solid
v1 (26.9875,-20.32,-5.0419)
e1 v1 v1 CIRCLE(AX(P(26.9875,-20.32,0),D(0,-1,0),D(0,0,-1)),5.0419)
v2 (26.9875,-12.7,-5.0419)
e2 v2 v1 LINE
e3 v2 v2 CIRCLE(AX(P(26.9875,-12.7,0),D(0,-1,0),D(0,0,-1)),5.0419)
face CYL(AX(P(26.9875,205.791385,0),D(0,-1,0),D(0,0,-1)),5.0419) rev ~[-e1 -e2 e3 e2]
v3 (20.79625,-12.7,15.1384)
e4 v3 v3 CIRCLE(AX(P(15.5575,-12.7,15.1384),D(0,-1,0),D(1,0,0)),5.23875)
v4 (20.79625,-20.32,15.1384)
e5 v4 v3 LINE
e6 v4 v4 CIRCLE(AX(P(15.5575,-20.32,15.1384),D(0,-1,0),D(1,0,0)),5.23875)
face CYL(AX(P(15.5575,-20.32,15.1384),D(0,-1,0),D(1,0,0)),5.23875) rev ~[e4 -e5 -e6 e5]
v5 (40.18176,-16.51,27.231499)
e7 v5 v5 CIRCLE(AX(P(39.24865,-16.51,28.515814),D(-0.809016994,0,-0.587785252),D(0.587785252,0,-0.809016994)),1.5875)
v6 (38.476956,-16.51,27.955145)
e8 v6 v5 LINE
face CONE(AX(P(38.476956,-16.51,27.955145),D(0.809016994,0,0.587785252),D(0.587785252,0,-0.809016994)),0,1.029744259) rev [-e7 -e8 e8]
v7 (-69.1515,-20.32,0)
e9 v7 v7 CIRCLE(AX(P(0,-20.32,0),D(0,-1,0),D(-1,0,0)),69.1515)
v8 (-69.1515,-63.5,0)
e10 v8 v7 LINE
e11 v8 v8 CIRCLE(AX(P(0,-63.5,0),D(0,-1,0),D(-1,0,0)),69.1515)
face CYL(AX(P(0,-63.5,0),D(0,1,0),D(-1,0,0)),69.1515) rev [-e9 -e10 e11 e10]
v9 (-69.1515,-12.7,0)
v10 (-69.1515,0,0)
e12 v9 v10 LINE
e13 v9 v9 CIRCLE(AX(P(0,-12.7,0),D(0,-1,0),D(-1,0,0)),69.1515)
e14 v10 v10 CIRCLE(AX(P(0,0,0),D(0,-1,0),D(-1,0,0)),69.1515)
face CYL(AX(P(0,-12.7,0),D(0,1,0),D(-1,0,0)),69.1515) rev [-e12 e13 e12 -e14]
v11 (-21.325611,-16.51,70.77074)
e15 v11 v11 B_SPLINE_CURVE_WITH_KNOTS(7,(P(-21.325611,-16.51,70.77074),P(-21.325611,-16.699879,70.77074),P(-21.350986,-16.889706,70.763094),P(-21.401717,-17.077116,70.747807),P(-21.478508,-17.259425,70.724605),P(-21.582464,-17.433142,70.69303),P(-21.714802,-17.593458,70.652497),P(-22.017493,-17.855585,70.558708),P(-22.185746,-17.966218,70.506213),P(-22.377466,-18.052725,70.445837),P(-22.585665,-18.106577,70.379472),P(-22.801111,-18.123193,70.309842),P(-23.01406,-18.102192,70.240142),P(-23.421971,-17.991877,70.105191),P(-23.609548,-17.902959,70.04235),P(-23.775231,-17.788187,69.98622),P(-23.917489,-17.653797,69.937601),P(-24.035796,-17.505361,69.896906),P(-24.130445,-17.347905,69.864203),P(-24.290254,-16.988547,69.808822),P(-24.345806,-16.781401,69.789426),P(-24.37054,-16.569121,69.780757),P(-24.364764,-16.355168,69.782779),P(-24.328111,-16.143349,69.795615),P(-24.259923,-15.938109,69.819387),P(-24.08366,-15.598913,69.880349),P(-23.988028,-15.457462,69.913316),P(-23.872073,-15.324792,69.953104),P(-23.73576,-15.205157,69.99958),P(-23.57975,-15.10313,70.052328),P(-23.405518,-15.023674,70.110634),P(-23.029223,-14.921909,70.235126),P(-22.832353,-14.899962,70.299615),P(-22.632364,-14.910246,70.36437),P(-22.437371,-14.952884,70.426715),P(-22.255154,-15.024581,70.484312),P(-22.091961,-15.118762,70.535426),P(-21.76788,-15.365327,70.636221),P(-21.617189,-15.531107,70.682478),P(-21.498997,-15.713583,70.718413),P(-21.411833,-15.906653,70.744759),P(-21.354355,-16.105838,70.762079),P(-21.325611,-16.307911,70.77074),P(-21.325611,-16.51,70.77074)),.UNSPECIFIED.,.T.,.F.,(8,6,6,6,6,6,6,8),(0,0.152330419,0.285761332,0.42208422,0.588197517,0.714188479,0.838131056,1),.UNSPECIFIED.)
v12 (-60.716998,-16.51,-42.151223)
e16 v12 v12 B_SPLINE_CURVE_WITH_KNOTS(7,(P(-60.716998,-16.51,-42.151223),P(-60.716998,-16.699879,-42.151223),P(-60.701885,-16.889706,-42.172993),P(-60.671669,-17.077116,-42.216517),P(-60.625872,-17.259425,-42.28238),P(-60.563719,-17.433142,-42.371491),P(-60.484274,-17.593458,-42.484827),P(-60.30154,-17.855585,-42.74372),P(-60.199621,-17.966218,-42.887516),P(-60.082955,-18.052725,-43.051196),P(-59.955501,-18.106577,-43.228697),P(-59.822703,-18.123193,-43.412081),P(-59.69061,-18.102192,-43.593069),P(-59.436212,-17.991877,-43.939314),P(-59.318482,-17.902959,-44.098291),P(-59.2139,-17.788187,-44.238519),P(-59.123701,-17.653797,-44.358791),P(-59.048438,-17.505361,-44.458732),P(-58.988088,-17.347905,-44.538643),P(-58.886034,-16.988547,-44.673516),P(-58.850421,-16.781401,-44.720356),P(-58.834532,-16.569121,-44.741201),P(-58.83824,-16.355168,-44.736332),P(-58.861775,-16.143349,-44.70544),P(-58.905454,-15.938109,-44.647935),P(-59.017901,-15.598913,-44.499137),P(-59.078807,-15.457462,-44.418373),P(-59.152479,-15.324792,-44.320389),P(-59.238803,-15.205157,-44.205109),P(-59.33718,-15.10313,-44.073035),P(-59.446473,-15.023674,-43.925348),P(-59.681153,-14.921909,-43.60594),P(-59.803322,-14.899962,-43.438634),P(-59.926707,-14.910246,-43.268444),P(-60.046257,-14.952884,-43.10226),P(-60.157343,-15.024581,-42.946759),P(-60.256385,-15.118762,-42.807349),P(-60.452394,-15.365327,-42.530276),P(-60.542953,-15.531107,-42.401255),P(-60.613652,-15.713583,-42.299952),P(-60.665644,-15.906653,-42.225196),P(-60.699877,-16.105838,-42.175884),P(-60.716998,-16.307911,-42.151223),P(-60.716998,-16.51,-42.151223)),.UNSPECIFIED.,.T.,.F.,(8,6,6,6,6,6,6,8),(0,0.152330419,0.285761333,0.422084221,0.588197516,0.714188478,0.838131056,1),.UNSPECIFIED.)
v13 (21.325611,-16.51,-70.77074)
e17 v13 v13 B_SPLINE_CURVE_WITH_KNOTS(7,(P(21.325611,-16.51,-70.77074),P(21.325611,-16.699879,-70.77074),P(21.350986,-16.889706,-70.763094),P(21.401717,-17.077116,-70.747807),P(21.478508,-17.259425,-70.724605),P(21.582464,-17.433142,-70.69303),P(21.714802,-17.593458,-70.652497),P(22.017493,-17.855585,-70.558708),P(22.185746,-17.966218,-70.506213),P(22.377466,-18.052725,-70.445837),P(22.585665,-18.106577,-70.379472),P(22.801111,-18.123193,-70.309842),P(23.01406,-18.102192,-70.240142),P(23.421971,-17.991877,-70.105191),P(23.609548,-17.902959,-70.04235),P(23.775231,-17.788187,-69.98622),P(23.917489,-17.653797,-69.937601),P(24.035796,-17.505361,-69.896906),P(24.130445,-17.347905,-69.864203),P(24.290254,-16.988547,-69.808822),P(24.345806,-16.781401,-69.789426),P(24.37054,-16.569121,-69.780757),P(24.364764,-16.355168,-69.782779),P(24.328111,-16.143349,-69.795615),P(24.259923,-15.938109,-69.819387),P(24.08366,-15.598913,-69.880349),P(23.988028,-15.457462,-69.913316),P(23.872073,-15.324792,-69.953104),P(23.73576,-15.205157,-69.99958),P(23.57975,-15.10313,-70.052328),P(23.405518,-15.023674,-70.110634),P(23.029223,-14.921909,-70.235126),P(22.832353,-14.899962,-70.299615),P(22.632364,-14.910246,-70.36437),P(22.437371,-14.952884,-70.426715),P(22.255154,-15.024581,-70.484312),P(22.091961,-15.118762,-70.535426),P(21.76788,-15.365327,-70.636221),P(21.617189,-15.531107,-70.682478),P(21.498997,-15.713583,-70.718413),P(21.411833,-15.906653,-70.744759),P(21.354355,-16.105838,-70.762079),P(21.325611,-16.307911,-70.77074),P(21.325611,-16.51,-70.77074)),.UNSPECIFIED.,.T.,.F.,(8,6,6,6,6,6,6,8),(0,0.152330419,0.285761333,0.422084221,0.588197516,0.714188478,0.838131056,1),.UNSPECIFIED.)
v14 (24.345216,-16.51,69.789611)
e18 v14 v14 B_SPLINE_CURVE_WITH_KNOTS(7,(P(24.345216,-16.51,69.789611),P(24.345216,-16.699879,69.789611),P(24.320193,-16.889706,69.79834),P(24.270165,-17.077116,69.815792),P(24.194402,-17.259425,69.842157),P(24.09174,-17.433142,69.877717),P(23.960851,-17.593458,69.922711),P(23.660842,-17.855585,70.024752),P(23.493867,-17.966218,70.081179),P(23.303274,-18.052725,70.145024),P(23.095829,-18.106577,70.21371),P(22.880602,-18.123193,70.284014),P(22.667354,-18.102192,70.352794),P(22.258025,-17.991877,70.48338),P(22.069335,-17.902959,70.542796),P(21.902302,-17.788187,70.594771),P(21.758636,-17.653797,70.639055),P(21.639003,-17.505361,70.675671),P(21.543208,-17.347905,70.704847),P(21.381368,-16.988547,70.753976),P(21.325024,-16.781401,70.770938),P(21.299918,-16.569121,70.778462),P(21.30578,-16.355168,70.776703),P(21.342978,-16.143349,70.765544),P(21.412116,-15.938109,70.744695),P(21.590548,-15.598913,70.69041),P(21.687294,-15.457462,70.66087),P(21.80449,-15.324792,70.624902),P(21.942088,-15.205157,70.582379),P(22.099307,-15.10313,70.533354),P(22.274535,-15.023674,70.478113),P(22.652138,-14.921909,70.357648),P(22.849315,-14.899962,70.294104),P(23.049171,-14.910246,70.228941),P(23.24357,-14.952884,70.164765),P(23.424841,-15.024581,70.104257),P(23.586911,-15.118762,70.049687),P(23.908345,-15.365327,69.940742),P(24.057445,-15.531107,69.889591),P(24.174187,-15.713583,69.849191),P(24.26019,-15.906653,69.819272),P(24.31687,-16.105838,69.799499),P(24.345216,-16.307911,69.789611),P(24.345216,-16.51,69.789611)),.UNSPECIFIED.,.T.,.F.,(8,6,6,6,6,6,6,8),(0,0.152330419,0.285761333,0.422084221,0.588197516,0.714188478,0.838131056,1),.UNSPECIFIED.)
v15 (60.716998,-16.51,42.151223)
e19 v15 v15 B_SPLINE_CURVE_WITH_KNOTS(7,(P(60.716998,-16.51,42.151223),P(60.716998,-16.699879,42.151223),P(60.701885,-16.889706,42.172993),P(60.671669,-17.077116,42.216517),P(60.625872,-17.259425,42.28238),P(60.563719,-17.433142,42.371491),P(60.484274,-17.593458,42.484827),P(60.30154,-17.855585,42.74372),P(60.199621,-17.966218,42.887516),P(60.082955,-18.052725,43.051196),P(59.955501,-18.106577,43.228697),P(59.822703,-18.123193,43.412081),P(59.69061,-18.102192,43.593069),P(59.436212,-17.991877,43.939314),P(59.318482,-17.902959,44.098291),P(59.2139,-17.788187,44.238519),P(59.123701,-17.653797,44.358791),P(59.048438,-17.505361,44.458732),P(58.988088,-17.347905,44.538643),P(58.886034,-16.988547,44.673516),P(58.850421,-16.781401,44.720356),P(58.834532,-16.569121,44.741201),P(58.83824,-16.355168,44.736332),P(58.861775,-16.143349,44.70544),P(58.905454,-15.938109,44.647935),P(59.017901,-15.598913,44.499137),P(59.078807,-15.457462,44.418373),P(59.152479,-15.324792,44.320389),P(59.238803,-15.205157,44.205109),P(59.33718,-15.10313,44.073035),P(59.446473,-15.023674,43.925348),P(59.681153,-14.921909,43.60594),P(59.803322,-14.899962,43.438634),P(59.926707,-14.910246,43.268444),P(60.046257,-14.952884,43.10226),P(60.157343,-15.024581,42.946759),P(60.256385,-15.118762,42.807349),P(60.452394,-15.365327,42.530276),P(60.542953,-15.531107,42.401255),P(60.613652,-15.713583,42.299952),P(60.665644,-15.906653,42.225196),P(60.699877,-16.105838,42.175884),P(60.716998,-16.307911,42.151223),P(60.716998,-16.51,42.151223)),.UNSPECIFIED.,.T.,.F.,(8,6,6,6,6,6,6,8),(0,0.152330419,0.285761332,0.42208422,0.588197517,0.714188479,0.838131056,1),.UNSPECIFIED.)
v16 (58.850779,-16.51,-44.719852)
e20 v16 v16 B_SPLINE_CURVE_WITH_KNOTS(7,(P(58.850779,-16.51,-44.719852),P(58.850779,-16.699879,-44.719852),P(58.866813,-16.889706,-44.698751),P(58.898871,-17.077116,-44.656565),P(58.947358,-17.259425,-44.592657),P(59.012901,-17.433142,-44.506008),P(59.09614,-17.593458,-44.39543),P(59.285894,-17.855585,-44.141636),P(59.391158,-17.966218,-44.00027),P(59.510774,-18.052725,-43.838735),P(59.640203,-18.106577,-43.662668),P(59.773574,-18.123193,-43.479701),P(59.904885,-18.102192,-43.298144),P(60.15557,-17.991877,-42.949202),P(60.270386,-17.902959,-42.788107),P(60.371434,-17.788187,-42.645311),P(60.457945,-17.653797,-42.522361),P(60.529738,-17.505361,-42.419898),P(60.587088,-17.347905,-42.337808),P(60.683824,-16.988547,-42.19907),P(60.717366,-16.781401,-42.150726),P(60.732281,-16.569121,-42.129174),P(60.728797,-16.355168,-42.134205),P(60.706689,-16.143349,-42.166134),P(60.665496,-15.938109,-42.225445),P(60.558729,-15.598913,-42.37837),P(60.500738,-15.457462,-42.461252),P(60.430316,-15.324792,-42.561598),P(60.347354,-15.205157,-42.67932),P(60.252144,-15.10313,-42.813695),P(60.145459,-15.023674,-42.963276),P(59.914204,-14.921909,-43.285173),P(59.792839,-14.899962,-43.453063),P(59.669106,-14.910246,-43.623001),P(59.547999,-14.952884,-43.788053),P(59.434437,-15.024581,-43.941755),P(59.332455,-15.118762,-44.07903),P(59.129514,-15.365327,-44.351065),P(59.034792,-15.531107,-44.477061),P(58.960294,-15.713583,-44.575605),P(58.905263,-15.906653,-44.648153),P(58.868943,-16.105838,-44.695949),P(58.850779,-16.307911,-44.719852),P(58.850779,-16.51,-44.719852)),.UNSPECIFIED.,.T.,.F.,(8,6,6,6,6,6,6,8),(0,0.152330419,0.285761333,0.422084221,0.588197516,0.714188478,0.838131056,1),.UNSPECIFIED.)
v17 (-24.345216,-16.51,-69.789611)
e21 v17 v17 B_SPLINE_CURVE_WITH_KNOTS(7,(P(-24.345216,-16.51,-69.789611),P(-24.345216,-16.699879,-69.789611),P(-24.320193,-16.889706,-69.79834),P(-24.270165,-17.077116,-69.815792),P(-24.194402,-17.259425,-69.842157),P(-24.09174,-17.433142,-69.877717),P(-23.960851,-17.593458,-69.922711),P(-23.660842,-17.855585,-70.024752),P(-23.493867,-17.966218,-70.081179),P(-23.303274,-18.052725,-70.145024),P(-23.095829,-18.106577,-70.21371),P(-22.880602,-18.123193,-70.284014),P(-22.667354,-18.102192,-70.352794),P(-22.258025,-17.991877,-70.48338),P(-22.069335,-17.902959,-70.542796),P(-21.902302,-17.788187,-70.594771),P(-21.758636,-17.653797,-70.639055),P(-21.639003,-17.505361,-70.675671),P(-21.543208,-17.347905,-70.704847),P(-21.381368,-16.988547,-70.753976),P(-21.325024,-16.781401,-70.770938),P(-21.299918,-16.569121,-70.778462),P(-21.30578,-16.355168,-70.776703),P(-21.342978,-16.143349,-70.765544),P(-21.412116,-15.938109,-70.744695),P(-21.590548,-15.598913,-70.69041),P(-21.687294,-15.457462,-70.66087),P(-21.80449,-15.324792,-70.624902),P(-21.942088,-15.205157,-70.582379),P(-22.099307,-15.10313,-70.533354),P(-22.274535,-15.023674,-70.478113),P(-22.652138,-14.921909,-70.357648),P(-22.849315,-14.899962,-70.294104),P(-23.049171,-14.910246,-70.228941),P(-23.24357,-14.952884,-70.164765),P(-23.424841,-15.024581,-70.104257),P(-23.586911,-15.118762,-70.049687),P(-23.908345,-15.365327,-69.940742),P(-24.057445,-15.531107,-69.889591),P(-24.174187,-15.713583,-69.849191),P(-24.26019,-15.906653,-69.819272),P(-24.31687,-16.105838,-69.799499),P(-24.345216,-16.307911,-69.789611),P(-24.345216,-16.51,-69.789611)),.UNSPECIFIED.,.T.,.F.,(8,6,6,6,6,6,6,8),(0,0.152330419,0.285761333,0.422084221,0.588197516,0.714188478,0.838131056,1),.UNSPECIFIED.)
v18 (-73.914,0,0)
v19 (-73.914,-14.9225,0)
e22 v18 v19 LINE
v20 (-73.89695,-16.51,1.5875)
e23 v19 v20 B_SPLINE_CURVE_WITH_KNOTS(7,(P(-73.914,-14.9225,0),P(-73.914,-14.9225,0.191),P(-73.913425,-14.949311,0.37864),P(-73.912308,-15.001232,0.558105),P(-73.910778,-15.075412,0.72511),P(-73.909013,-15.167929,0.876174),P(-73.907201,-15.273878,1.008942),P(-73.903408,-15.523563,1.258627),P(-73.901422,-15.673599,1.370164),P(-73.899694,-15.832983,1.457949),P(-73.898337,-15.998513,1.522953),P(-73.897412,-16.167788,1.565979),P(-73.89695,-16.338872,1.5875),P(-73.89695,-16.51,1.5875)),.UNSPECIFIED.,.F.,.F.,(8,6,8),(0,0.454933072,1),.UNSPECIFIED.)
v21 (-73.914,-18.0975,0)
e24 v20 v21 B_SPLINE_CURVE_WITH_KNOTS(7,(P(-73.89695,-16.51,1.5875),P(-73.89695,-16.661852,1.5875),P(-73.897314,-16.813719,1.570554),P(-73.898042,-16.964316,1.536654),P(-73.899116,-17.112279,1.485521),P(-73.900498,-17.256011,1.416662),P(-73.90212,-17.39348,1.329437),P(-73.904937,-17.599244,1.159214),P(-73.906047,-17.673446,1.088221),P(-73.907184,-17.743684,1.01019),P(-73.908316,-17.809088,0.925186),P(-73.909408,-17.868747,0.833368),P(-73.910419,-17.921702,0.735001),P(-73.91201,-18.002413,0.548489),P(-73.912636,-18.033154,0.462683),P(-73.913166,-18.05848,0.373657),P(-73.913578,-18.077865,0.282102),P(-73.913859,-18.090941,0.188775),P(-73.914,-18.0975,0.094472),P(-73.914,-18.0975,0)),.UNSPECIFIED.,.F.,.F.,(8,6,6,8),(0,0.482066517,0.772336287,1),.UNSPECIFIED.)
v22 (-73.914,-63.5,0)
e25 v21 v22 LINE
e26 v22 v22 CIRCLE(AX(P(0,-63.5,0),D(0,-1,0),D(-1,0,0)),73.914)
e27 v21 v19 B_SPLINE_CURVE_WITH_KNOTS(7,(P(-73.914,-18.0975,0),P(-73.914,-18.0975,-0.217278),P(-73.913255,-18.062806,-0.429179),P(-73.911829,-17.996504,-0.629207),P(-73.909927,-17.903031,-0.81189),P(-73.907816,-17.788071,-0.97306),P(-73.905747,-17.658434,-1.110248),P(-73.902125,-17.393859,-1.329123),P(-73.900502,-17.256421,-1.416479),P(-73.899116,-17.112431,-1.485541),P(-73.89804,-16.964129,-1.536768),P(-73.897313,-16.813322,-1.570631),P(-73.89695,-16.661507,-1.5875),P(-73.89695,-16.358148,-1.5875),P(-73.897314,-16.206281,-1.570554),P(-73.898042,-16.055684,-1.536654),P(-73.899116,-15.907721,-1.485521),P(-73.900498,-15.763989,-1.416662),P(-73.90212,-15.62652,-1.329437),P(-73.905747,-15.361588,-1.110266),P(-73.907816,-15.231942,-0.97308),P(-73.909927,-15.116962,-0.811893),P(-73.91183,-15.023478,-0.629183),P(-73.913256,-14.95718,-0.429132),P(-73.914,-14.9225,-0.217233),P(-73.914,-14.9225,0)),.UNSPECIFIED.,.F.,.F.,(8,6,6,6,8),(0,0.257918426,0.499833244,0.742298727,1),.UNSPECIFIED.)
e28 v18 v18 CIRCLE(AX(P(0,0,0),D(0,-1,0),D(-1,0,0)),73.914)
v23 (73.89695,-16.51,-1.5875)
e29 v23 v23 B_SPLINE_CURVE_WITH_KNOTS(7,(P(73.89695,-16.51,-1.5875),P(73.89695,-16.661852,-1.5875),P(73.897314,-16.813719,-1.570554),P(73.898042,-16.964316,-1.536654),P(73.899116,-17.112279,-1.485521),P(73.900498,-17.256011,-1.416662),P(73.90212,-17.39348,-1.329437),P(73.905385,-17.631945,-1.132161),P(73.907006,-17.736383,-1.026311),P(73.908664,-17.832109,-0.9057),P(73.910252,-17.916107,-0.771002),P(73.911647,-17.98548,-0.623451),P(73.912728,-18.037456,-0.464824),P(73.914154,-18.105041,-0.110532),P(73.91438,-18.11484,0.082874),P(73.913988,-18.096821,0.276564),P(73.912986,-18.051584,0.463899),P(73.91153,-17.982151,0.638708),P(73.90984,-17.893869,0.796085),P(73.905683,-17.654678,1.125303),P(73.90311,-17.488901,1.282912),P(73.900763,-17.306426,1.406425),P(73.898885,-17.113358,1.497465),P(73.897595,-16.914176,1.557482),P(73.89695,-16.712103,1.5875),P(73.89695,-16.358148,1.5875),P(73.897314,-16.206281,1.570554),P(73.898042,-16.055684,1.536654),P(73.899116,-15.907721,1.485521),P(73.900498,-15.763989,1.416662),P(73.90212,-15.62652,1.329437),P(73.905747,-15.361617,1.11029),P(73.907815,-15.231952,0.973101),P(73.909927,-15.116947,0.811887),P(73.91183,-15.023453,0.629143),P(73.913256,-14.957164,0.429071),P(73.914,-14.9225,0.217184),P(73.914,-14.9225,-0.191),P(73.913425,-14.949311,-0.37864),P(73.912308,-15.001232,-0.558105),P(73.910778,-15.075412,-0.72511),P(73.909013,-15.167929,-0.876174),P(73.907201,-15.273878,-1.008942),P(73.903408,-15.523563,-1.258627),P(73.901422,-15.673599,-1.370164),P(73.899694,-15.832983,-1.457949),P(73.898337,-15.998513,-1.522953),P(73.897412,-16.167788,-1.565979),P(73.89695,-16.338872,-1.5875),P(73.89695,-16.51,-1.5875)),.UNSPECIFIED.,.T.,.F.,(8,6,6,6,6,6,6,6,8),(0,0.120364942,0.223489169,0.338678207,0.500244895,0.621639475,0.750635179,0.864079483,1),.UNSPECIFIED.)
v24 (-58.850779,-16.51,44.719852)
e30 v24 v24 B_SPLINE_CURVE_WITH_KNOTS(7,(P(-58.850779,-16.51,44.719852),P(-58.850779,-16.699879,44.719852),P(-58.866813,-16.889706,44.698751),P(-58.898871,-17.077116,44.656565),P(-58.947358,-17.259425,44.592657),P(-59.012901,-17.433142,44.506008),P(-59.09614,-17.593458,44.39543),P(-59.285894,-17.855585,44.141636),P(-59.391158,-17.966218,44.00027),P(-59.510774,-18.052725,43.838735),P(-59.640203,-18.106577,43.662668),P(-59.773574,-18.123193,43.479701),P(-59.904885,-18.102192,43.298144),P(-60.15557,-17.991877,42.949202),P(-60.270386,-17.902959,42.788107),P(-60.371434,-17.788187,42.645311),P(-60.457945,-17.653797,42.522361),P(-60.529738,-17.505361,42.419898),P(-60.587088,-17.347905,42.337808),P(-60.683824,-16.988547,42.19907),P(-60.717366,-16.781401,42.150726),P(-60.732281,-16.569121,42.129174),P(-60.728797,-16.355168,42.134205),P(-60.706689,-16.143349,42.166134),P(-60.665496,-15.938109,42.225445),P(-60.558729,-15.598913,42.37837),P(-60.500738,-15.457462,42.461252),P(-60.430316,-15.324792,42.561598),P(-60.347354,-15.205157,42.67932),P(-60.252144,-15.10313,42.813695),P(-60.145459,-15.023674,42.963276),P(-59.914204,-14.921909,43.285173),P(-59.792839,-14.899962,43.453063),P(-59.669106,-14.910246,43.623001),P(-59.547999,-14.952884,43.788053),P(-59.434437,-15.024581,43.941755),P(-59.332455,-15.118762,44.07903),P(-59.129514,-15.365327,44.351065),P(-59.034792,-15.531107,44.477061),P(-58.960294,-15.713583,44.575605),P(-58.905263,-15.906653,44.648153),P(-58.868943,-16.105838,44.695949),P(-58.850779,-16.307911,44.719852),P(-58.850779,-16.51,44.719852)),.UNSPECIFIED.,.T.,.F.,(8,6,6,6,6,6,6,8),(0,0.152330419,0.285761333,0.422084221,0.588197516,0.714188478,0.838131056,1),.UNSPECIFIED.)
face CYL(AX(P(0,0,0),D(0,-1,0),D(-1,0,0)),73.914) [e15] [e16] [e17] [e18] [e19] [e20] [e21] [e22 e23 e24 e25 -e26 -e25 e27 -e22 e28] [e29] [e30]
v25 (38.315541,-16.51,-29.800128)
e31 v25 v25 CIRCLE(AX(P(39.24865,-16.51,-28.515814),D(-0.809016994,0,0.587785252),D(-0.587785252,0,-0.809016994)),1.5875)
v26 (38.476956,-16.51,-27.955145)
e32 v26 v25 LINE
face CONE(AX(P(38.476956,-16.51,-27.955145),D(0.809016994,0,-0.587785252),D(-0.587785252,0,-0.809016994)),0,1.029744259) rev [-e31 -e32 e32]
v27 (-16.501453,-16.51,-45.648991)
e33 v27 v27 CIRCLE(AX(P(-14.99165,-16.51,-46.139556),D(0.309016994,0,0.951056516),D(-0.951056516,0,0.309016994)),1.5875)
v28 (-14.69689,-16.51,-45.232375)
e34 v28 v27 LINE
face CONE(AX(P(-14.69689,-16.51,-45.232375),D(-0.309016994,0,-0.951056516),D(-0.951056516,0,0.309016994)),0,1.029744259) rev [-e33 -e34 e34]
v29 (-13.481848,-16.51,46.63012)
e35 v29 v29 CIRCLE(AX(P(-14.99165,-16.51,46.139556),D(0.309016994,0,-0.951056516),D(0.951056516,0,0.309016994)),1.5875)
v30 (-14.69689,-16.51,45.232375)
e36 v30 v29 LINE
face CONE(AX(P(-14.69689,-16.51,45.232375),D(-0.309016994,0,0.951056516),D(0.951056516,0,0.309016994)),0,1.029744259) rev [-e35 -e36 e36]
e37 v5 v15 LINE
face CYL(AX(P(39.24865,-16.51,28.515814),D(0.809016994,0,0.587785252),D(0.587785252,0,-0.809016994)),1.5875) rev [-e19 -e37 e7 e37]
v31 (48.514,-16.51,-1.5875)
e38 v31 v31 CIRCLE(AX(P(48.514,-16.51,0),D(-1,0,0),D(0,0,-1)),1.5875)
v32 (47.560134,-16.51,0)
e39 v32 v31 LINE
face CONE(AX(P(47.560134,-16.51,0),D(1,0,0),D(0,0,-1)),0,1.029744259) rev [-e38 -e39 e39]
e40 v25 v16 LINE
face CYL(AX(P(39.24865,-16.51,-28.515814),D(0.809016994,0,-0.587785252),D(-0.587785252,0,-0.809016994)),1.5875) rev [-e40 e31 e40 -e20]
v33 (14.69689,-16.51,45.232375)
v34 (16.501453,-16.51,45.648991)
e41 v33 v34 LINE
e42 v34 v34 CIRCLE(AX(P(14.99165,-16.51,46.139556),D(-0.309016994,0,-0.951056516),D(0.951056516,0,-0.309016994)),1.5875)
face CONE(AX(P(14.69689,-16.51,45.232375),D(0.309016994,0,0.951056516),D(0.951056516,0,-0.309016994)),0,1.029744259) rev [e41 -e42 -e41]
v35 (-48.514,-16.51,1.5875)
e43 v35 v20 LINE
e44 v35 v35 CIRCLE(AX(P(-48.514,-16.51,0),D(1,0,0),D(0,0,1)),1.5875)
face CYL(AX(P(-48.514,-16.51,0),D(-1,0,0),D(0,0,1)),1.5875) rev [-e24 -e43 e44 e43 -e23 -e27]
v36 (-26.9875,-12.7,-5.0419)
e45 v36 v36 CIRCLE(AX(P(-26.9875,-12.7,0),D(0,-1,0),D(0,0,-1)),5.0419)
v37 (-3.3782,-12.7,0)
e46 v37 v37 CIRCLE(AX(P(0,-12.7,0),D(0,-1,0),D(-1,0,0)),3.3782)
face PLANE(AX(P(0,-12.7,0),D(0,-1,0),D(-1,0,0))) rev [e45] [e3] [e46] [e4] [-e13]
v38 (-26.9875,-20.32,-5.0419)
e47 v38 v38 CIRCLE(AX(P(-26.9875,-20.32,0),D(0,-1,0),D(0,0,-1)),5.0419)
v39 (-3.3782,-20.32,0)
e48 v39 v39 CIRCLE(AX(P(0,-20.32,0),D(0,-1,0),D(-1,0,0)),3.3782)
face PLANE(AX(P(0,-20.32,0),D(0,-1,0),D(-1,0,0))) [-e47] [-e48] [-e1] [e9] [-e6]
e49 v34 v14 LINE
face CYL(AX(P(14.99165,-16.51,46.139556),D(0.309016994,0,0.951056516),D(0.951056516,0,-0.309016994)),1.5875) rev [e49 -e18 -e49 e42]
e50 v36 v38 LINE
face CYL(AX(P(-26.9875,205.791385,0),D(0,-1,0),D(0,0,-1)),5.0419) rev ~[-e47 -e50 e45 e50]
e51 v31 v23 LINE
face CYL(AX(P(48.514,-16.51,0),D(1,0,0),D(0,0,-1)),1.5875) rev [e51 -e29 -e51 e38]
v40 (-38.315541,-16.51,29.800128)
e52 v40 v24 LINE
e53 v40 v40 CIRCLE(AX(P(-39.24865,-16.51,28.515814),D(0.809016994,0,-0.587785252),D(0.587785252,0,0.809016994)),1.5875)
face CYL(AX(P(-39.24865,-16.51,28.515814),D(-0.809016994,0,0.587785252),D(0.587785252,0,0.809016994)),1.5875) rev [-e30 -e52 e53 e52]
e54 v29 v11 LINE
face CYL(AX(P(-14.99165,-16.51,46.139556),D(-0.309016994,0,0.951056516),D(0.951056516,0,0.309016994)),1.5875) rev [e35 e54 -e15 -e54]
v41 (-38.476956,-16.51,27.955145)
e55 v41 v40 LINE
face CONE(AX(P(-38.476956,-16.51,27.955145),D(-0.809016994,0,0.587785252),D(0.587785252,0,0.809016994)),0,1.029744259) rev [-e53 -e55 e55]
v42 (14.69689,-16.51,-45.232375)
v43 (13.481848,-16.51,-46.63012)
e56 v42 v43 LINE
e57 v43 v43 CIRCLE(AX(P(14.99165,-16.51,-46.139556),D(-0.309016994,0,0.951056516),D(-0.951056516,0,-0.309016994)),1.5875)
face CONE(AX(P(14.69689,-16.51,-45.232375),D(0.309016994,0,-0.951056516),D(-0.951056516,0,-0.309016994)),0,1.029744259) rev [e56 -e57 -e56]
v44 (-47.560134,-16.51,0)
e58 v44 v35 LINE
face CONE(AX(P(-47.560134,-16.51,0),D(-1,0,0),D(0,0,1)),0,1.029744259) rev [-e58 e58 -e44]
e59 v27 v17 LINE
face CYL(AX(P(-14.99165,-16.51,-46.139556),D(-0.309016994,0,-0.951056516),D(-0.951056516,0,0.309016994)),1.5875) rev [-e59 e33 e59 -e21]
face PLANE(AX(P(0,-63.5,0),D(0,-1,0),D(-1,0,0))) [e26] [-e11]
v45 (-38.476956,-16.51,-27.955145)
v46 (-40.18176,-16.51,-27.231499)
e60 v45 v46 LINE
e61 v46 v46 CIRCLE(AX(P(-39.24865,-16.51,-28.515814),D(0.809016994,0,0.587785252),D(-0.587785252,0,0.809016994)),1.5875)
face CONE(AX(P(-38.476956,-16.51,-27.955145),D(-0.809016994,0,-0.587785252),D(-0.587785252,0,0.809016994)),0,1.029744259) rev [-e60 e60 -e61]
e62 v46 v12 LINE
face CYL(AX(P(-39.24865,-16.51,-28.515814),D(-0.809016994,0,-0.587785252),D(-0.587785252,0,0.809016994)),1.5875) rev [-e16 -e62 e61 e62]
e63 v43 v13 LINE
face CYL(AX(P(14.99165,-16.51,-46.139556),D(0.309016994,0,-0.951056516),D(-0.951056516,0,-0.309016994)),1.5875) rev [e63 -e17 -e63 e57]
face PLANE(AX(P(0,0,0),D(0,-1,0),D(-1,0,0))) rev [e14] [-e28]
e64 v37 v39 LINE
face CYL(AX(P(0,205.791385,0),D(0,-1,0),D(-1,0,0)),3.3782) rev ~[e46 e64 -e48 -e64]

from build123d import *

# Parameters (mm, degrees)
F_1_4_CLEARANCE_HOLE1_D = 6.7564
CIRPATTERN2_COUNT       = 10
F_3_8_CLEARANCE_HOLE1_D = 10.0838
SKETCH12_R              = 5.23875
CUT_EXTRUDE1_DEPTH      = 7.62


with BuildPart() as part:
    # Sketch1 → Revolve1 (revolve)
    with BuildSketch(Plane.XY):
        Polygon((0, -12.7), (-69.1515, -12.7), (-69.1515, 0), (-73.914, 0), (-73.914, -63.5), (-69.1515, -63.5), (-69.1515, -20.32), (0, -20.32), align=None)
    revolve(axis=Axis((0, 0, 0), (0, -1, 0)))

    # 1/4 Clearance Hole1 (through all)
    with Locations(Plane(origin=(0, -12.7, 0), x_dir=(1, 0, 0), z_dir=(0, 1, 0))):
        with Locations((0, 0)):
            Hole(F_1_4_CLEARANCE_HOLE1_D / 2)

    # Sketch7 → 1/8 (0.1250) Dowel Hole1 (revolve, cut)
    with BuildSketch(Plane(origin=(-73.914, -16.51, 0), x_dir=(0, 0, 1), z_dir=(0, 1, 0))):
        Polygon((0, 0), (0, 26.353866233), (1.5875, 25.4), (1.5875, 0), align=None)
    f_1_8_0_1250_dowel_hole1 = revolve(axis=Axis((-80.264, -16.51, 0), (1, 0, 0)), mode=Mode.SUBTRACT)

    # CirPattern2: 1/8 (0.1250) Dowel Hole1 ×10 about axis
    cirpattern2_axis = Axis((0, 0, 0), (0, 1, 0))
    for i in range(1, CIRPATTERN2_COUNT):
        add(f_1_8_0_1250_dowel_hole1.rotate(cirpattern2_axis, i * 360 / CIRPATTERN2_COUNT), mode=Mode.SUBTRACT)

    # 3/8 Clearance Hole1 (through all)
    with Locations(Plane(origin=(-26.9875, -12.7, 0), x_dir=(0, 0, 1), z_dir=(0, 1, 0))):
        with Locations((0, 0), (0, 53.975)):
            Hole(F_3_8_CLEARANCE_HOLE1_D / 2)

    # Sketch12 → Cut-Extrude1 (cut)
    with BuildSketch(Plane.XZ.offset(20.32)):
        with Locations((15.5575, 15.1384)):
            Circle(SKETCH12_R)
    extrude(amount=-CUT_EXTRUDE1_DEPTH, mode=Mode.SUBTRACT)


solid = part.part
